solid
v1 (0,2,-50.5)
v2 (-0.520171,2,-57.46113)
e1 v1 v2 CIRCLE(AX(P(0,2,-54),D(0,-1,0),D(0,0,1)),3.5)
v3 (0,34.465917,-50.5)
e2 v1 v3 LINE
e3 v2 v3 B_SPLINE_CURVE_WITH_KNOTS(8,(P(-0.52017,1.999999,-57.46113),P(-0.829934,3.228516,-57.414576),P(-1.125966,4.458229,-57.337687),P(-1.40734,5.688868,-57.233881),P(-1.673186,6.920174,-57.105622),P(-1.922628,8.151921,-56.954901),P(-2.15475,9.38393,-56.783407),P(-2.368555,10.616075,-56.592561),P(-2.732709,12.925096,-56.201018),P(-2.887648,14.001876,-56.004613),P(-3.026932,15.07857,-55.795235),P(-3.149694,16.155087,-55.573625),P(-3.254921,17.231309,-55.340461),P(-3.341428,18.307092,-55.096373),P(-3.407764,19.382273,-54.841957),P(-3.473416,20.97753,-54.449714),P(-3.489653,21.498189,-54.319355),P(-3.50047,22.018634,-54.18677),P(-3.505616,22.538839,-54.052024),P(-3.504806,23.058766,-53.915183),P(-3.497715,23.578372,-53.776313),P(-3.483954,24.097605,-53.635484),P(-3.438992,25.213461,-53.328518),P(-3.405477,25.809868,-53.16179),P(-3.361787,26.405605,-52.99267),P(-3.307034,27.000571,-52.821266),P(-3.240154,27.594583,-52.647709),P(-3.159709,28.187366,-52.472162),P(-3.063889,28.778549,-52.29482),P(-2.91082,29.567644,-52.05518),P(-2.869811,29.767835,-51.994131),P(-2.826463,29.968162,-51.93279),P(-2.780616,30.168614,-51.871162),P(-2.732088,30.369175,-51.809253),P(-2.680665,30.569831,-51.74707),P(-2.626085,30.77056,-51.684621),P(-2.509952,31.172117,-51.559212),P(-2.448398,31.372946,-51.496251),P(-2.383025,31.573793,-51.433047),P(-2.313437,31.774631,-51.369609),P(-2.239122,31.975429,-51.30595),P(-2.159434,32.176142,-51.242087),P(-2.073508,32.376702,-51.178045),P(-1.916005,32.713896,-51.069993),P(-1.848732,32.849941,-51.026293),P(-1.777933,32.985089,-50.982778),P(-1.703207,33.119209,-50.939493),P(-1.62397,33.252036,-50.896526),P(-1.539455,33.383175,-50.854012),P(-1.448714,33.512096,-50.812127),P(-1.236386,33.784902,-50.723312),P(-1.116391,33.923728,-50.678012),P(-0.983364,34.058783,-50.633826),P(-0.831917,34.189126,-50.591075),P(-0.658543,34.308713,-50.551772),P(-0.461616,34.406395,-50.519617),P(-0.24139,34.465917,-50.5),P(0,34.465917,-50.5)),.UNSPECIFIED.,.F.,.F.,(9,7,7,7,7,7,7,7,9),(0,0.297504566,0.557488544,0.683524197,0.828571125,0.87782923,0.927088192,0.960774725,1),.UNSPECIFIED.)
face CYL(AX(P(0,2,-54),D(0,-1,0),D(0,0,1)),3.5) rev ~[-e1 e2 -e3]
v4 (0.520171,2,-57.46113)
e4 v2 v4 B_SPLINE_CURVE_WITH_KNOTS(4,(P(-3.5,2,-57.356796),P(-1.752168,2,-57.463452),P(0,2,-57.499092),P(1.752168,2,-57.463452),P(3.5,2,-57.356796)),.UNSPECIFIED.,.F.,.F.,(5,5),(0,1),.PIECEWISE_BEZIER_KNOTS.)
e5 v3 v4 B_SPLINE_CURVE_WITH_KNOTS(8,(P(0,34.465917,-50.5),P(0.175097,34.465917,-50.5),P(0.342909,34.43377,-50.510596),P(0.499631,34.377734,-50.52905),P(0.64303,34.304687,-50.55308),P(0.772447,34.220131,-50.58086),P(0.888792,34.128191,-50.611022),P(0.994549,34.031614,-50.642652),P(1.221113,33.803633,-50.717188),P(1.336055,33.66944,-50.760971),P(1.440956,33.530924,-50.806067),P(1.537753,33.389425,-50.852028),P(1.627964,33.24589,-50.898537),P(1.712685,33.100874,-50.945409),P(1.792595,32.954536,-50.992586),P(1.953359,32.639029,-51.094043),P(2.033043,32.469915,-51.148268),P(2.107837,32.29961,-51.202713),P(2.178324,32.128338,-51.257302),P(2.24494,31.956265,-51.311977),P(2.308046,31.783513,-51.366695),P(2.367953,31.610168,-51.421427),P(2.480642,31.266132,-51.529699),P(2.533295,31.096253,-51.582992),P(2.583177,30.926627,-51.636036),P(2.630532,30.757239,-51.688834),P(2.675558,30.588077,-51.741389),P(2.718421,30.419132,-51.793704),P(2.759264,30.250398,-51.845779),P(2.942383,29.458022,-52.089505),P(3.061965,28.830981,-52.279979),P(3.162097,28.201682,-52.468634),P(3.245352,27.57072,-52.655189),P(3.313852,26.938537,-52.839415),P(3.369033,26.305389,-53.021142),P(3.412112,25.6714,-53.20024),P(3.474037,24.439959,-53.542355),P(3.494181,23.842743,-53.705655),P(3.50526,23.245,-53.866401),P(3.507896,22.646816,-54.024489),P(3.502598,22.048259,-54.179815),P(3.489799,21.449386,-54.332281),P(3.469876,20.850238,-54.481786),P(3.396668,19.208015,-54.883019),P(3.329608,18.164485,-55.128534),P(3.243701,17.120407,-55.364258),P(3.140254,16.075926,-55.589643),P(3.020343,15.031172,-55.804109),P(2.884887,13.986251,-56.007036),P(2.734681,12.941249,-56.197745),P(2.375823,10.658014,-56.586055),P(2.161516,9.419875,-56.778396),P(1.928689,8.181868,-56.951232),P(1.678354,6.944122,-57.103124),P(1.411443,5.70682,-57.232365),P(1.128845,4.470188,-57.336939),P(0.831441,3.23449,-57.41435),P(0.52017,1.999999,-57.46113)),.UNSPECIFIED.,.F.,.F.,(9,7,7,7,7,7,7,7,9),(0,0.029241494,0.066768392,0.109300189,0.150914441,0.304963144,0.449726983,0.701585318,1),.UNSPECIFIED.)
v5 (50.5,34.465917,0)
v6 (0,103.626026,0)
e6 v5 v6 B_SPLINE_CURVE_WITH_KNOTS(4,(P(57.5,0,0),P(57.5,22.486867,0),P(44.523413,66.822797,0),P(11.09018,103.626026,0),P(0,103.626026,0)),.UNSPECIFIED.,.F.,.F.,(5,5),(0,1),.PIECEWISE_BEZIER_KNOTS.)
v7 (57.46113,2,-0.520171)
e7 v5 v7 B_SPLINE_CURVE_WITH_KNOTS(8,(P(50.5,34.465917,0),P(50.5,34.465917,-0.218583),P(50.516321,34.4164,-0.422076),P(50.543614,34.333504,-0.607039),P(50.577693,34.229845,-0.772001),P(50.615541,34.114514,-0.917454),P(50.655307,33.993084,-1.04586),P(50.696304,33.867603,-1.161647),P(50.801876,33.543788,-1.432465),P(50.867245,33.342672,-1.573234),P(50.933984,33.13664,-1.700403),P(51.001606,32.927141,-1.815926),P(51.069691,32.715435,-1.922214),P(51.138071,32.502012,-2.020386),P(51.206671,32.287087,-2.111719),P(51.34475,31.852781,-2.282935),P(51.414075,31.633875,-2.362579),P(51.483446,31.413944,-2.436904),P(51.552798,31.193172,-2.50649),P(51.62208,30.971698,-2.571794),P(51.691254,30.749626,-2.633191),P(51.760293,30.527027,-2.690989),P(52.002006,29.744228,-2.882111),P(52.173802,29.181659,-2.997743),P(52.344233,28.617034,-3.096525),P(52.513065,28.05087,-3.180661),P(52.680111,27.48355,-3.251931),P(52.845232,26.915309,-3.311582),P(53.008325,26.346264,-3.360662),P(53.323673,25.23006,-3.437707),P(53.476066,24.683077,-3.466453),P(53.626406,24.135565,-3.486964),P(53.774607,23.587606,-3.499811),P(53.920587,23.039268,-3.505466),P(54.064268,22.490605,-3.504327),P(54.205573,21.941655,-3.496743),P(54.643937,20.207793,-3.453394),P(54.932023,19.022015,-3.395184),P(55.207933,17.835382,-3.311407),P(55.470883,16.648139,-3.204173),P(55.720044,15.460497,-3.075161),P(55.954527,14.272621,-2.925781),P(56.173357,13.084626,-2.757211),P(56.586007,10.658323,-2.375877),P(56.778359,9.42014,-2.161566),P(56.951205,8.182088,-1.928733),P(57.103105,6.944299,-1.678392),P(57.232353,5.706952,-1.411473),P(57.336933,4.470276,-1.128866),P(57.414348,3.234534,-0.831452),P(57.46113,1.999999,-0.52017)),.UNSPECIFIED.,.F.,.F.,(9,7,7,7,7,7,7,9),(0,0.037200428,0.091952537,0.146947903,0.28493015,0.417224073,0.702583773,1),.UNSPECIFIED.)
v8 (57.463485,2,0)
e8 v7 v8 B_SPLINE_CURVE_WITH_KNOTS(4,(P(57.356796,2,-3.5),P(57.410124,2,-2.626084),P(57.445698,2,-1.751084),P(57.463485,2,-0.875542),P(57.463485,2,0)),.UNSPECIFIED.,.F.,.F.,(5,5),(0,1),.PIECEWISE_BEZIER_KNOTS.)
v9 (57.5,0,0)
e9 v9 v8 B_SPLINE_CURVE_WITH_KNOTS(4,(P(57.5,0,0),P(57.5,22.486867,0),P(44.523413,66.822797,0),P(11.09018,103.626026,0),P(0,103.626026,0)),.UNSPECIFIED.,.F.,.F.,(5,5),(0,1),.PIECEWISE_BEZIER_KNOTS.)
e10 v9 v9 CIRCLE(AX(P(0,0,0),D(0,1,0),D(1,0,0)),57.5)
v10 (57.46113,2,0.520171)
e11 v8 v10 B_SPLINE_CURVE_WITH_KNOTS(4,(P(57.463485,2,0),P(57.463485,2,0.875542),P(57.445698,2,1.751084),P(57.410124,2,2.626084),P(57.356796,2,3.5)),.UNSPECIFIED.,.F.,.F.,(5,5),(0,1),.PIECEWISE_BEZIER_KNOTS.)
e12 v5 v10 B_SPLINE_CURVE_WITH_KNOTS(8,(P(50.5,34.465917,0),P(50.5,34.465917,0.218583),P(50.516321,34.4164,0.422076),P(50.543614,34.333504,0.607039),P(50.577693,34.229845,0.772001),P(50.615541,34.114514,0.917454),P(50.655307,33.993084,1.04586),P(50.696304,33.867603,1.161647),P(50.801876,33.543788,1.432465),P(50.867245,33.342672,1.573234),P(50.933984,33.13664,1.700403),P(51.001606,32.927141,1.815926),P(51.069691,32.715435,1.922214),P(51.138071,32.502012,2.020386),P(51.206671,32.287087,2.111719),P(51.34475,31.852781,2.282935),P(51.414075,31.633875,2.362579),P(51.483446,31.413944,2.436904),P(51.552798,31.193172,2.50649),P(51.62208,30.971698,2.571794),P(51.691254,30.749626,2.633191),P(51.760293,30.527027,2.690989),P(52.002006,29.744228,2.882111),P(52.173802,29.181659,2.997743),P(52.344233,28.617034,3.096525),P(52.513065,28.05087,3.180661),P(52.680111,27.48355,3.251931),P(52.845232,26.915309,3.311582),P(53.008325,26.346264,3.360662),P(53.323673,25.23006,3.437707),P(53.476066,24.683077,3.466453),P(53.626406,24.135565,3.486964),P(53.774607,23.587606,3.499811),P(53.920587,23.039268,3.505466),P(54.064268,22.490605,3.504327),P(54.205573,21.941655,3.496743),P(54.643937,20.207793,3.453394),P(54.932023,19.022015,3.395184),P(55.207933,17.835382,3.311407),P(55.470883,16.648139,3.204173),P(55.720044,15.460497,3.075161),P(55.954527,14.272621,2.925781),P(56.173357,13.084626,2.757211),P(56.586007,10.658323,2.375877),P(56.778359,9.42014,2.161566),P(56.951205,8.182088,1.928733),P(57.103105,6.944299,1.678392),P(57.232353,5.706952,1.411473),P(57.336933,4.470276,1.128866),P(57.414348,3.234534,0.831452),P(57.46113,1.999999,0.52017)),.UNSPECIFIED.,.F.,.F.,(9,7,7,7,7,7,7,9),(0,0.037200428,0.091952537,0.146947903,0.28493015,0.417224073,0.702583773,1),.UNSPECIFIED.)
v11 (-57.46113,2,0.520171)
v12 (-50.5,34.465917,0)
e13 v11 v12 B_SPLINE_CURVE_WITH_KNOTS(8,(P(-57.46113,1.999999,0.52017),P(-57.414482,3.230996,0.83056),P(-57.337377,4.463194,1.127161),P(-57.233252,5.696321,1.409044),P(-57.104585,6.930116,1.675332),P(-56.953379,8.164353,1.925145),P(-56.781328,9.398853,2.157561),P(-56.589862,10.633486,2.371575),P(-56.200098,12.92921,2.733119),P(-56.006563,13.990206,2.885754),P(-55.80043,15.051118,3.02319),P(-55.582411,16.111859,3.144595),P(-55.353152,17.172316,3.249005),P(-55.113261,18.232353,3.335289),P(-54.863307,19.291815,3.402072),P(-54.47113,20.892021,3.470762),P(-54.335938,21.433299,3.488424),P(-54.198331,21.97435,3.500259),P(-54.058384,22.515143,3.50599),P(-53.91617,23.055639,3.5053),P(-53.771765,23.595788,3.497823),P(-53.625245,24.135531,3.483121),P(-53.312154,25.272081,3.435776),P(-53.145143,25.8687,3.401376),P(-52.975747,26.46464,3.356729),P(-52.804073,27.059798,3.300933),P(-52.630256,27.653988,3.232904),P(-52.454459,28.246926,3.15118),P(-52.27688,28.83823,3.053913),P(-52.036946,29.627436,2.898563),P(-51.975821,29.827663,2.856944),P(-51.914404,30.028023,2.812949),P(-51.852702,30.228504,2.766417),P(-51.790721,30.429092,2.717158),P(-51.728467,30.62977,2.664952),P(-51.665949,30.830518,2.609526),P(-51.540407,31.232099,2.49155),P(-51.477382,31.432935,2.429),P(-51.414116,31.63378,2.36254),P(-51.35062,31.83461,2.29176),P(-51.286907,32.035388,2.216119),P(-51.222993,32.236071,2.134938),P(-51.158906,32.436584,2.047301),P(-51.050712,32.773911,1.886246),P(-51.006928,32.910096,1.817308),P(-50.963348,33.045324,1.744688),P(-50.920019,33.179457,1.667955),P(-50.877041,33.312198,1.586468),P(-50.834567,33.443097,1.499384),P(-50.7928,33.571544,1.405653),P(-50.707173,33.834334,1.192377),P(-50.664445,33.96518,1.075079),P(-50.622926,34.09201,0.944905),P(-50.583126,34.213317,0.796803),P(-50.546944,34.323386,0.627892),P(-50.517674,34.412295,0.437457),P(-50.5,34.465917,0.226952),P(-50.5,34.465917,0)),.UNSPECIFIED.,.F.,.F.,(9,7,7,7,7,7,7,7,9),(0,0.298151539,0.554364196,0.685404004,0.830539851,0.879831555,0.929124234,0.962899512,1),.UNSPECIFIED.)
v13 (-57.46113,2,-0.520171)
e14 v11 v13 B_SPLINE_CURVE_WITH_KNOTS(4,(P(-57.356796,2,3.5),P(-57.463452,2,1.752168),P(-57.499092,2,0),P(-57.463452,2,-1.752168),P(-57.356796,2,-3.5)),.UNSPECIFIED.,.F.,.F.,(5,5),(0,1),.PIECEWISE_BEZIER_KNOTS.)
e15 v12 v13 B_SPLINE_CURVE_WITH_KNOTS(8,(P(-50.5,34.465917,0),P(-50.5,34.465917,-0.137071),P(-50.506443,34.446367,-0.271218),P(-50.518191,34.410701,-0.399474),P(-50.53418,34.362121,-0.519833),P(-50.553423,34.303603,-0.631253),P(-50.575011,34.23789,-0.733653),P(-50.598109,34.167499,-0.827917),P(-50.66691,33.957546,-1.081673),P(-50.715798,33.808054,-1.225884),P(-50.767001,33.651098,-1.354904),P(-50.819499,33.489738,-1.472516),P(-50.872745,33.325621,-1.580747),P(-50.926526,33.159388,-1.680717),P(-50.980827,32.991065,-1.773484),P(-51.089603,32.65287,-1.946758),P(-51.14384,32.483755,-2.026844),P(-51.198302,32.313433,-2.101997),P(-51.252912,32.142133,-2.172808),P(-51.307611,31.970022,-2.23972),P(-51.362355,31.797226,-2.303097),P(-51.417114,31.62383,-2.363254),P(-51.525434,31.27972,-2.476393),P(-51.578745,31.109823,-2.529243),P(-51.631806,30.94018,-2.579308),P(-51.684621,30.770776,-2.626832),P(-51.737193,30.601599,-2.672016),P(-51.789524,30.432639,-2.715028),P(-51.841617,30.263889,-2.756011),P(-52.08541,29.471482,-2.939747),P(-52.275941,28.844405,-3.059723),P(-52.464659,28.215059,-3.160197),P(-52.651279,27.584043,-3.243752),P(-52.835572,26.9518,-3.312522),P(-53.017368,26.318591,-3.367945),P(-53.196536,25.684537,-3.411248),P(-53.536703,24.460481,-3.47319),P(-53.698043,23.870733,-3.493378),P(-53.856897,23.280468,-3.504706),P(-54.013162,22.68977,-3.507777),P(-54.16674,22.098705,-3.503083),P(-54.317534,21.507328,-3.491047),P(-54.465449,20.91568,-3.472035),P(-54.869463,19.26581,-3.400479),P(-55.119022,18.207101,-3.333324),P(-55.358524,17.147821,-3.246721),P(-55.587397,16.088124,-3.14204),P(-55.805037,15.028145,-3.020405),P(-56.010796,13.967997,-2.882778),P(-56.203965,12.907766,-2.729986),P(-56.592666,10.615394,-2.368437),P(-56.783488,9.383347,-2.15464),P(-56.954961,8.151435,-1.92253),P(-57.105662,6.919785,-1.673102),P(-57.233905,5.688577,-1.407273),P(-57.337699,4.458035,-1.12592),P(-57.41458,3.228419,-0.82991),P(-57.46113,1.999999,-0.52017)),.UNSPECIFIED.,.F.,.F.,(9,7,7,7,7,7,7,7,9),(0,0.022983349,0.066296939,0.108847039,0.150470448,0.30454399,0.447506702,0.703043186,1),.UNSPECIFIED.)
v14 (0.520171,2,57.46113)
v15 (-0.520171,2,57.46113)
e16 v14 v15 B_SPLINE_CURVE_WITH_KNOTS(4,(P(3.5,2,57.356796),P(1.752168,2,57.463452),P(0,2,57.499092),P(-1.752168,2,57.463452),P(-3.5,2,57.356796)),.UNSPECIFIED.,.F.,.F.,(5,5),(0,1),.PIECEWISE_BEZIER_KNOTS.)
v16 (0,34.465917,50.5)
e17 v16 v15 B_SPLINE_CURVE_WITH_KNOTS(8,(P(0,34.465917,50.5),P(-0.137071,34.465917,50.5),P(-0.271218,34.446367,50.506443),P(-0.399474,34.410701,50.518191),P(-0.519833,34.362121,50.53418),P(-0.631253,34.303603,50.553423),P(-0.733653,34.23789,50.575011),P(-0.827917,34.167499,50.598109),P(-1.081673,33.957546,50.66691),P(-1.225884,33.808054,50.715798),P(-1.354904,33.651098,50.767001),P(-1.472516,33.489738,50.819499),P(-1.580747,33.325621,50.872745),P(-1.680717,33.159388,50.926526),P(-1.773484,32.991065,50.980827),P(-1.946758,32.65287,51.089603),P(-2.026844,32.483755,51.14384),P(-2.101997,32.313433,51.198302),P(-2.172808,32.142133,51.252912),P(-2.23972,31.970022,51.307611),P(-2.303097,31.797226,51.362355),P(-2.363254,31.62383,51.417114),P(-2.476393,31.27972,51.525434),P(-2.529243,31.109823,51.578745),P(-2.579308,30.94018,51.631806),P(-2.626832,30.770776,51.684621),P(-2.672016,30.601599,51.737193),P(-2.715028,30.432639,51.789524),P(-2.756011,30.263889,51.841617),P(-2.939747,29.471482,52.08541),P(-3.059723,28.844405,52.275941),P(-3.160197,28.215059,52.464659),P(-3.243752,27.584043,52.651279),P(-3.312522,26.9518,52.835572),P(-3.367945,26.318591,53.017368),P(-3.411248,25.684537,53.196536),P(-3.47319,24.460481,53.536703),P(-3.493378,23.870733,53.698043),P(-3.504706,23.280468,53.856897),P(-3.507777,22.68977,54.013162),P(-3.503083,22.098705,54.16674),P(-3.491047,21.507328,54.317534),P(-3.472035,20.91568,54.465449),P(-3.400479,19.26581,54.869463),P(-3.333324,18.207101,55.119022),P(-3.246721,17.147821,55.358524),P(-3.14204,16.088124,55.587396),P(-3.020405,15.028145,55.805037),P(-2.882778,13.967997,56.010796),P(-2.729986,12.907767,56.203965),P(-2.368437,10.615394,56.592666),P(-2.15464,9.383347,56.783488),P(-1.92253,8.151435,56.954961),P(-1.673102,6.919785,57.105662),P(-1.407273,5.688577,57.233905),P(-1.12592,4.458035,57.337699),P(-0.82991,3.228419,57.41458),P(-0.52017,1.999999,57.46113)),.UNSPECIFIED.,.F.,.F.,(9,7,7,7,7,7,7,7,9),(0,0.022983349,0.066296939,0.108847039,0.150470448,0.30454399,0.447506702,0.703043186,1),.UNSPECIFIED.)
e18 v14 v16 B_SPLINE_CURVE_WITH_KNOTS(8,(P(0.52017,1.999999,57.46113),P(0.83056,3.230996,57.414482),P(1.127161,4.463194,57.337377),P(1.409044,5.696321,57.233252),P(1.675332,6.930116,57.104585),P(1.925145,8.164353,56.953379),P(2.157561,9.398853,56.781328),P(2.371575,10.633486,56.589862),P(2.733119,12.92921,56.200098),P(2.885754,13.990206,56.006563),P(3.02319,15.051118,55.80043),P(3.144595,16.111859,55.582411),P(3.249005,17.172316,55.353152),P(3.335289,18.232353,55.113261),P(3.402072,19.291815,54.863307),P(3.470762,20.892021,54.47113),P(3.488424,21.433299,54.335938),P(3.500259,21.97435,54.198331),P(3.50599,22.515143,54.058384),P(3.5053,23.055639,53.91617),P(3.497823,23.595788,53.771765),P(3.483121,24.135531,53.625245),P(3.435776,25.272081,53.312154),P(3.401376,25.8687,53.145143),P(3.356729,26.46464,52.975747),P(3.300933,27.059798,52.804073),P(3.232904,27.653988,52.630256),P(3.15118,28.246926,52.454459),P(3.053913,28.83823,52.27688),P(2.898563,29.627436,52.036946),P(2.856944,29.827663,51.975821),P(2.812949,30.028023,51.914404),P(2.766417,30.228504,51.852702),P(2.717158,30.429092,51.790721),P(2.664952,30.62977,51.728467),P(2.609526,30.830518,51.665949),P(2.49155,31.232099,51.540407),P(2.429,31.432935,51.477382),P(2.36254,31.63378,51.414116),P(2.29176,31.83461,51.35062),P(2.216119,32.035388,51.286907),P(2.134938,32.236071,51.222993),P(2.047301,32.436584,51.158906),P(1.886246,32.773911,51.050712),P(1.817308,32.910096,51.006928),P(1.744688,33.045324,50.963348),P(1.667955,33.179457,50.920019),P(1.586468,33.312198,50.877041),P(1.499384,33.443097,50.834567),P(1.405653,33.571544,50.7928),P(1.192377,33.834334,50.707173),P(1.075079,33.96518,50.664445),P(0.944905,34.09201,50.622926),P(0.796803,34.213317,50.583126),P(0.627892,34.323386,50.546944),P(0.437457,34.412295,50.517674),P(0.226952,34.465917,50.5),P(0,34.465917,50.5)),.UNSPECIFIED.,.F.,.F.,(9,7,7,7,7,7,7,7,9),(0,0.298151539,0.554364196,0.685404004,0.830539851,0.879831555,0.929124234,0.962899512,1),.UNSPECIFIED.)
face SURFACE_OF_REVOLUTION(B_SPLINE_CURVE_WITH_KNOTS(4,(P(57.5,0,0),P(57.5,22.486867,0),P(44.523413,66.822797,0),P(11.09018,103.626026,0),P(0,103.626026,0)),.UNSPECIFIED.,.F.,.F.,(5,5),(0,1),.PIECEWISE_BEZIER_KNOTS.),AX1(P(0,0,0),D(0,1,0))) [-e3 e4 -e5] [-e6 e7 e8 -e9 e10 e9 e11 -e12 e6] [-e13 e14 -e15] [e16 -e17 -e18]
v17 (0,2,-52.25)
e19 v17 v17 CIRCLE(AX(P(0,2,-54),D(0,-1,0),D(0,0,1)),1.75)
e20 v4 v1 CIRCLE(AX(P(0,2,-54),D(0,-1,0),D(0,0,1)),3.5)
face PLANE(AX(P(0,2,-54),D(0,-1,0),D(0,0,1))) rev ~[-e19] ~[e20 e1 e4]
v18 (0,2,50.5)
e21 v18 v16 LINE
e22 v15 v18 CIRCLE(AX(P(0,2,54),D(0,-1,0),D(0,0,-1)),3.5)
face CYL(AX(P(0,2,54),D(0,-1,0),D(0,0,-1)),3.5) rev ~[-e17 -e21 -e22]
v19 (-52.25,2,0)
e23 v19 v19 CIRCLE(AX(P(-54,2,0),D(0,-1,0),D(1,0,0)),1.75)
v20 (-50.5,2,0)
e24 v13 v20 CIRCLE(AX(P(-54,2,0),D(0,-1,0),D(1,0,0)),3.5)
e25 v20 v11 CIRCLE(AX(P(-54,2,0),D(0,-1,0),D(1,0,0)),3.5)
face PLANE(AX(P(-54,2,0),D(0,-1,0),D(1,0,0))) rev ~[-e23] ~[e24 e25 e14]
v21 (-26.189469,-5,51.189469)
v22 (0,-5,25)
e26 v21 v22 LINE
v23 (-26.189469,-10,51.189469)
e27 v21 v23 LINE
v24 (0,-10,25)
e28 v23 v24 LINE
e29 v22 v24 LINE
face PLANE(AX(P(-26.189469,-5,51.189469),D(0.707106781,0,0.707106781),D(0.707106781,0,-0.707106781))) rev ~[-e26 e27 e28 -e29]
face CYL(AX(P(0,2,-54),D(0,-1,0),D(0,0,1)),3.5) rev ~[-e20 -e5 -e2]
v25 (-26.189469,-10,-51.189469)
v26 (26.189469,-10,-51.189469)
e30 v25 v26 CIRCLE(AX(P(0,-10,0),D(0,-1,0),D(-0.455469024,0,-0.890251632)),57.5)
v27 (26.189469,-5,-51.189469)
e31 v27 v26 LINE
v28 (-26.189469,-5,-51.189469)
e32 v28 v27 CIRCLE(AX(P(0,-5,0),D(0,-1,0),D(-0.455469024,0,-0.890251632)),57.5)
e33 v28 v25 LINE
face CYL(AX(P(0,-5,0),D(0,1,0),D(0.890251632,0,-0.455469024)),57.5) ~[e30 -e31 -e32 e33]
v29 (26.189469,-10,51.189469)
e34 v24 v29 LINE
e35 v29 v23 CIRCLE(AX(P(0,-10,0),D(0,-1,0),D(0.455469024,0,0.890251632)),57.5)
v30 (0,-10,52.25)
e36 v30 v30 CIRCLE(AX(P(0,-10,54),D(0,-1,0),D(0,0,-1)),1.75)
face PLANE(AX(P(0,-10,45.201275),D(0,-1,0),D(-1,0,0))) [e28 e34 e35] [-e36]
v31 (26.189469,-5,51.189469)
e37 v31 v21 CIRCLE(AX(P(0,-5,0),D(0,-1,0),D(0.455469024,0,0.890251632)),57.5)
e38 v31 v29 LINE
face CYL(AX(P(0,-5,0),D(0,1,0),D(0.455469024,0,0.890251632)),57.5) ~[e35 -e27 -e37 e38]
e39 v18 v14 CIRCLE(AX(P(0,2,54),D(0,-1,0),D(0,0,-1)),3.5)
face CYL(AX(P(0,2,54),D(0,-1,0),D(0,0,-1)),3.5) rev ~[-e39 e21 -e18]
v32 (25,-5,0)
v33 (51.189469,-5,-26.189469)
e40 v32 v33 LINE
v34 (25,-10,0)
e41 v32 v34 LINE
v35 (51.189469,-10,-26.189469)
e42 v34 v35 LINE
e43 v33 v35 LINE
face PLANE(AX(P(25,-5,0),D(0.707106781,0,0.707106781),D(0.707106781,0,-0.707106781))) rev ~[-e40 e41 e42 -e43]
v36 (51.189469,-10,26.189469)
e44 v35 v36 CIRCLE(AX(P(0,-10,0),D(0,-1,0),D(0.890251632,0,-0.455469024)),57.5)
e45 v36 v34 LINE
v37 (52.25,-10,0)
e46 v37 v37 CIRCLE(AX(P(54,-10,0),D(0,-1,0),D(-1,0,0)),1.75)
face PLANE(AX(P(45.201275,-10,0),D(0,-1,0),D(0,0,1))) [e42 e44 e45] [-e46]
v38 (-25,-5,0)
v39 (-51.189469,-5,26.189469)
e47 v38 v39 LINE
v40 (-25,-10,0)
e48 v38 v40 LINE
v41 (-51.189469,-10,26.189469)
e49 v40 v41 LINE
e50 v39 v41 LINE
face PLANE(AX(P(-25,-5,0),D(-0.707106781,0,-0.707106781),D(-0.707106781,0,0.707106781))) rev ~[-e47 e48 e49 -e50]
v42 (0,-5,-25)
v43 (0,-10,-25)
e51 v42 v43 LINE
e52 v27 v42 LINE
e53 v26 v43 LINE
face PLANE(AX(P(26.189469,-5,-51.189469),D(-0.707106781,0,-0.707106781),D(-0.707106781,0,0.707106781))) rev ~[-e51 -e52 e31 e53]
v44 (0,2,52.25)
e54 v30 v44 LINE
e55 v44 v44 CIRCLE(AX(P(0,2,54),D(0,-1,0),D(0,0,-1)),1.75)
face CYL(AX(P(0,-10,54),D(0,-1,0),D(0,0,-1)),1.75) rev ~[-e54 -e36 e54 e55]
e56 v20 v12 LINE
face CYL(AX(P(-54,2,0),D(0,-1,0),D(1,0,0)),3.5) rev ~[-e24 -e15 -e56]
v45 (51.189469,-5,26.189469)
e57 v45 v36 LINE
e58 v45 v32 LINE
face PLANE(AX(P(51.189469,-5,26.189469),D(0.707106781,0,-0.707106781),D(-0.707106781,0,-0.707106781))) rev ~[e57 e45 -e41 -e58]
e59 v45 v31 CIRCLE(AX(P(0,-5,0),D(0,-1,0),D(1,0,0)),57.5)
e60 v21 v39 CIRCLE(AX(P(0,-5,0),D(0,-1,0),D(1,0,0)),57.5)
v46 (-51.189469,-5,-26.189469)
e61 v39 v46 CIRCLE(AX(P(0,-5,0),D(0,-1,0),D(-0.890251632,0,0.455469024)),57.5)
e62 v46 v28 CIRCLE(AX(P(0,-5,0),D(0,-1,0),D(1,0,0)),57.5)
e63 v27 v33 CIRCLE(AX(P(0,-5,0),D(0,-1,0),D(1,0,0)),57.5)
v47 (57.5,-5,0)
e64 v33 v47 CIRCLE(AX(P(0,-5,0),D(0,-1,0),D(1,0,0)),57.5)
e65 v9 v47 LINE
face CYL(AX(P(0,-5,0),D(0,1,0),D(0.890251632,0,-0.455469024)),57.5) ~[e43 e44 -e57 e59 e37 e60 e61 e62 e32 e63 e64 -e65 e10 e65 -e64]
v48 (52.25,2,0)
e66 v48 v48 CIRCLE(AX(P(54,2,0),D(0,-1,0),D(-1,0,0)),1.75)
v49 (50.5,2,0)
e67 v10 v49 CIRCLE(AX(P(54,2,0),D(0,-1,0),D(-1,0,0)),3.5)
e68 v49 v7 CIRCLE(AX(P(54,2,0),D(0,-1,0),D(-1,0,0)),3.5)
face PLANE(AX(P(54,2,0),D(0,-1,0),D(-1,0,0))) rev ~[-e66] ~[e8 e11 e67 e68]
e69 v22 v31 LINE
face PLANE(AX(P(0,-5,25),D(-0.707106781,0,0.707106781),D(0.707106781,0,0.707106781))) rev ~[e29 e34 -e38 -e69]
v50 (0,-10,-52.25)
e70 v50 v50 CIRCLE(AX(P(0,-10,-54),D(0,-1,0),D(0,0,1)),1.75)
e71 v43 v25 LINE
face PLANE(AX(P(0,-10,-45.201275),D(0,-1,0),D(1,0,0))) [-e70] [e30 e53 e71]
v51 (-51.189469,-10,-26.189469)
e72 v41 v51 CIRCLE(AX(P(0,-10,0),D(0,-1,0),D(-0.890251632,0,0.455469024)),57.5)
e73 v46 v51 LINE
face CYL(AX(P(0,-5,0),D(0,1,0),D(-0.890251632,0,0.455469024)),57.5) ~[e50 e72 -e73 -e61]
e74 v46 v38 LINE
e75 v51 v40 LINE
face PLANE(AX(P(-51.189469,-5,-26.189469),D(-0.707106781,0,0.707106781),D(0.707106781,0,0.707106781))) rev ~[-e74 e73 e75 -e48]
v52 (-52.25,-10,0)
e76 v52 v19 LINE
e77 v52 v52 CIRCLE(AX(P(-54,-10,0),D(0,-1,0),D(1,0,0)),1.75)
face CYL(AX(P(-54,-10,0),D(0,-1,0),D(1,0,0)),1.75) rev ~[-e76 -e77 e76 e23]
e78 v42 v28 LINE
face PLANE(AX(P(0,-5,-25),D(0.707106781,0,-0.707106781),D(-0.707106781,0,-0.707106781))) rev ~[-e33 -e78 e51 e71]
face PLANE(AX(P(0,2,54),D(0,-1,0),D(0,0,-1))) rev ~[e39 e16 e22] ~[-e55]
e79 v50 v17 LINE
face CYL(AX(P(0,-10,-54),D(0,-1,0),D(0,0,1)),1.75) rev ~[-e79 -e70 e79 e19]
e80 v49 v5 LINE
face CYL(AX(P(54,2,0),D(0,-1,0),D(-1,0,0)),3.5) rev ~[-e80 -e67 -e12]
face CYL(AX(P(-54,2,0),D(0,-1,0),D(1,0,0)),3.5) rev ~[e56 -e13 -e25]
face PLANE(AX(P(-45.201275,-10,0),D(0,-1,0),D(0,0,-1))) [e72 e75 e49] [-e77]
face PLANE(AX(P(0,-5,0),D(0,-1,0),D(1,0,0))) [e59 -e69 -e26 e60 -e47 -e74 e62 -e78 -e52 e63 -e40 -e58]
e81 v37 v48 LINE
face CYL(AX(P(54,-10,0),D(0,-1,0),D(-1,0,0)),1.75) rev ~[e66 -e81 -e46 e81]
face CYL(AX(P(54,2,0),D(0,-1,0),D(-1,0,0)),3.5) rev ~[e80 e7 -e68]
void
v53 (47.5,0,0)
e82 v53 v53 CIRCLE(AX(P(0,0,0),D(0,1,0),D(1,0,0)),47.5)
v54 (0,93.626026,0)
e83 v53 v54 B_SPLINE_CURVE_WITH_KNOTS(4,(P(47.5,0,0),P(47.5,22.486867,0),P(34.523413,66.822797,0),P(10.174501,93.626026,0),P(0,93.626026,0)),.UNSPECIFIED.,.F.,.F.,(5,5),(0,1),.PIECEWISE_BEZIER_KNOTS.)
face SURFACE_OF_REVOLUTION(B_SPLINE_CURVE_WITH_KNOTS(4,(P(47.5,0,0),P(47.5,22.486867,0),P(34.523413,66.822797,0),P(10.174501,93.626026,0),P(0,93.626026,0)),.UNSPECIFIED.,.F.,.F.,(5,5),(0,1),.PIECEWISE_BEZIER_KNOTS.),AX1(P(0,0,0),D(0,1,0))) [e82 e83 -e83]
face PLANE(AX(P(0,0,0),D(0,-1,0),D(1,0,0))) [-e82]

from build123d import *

# Parameters (mm, degrees)
SKETCH3_R           = 57.5
BOSS_EXTRUDE1_DEPTH = 5
BOSS_EXTRUDE2_DEPTH = 5
CIRPATTERN2_COUNT   = 4
SKETCH7_R           = 1.75
CUT_EXTRUDE1_DEPTH  = 12
SKETCH8_R           = 3.5
CUT_EXTRUDE2_DEPTH  = 131.155096992
CIRPATTERN1_COUNT   = 4


with BuildPart() as part:
    # Sketch1 → Revolve2 (revolve)
    with BuildSketch(Plane.XY):
        with BuildLine():
            Line((47.5, 0), (57.5, 0))
            add(Edge.make_bspline(
                [(57.5, 0), (57.5, 22.486866931), (44.523412509, 66.822797193), (11.090180384, 103.62602634), (0, 103.62602634)],
                knots=[0, 0, 0, 0, 0, 1, 1, 1, 1, 1], degree=4))
            Line((0, 103.62602634), (0, 93.62602634))
            add(Edge.make_bspline(
                [(47.5, 0), (47.5, 22.486866931), (34.523412509, 66.822797193), (10.174500673, 93.62602634), (0, 93.62602634)],
                knots=[0, 0, 0, 0, 0, 1, 1, 1, 1, 1], degree=4))
        make_face()
    revolve(axis=Axis((0, 0, 0), (0, 1, 0)))

    # Sketch3 → Boss-Extrude1 (add)
    with BuildSketch(Plane.XZ):
        Circle(SKETCH3_R)
    extrude(amount=BOSS_EXTRUDE1_DEPTH)

    # Sketch9 → Boss-Extrude2 (add)
    with BuildSketch(Plane.XZ.offset(5)):
        with BuildLine():
            Line((26.189468851, -51.189468851), (0, -25))
            Line((0, -25), (-26.189468851, -51.189468851))
            ThreePointArc((-26.189468851, -51.189468851), (0, -57.5), (26.189468851, -51.189468851))
        make_face()
    boss_extrude2 = extrude(amount=BOSS_EXTRUDE2_DEPTH)

    # CirPattern2: Boss-Extrude2 ×4 about axis
    cirpattern2_axis = Axis((0, -5, 0), (0, -1, 0))
    for i in range(1, CIRPATTERN2_COUNT):
        add(boss_extrude2.rotate(cirpattern2_axis, i * 360 / CIRPATTERN2_COUNT))

    # Sketch7 → Cut-Extrude1 (cut)
    with BuildSketch(Plane.XZ.offset(10)):
        with Locations((-54, 0)):
            Circle(SKETCH7_R)
    cut_extrude1 = extrude(amount=-CUT_EXTRUDE1_DEPTH, mode=Mode.SUBTRACT)

    # Sketch8 → Cut-Extrude2 (cut, through all)
    with BuildSketch(Plane.XZ.offset(-2)):
        with Locations((-54, 0)):
            Circle(SKETCH8_R)
    cut_extrude2 = extrude(amount=-CUT_EXTRUDE2_DEPTH, mode=Mode.SUBTRACT)

    # CirPattern1: Cut-Extrude1, Cut-Extrude2 ×4 about axis
    cirpattern1_axis = Axis((0, 0, 0), (0, -1, 0))
    add([cut_extrude1.rotate(cirpattern1_axis, i * 360 / CIRPATTERN1_COUNT) for i in range(1, CIRPATTERN1_COUNT)], mode=Mode.SUBTRACT)
    add([cut_extrude2.rotate(cirpattern1_axis, i * 360 / CIRPATTERN1_COUNT) for i in range(1, CIRPATTERN1_COUNT)], mode=Mode.SUBTRACT)


solid = part.part
